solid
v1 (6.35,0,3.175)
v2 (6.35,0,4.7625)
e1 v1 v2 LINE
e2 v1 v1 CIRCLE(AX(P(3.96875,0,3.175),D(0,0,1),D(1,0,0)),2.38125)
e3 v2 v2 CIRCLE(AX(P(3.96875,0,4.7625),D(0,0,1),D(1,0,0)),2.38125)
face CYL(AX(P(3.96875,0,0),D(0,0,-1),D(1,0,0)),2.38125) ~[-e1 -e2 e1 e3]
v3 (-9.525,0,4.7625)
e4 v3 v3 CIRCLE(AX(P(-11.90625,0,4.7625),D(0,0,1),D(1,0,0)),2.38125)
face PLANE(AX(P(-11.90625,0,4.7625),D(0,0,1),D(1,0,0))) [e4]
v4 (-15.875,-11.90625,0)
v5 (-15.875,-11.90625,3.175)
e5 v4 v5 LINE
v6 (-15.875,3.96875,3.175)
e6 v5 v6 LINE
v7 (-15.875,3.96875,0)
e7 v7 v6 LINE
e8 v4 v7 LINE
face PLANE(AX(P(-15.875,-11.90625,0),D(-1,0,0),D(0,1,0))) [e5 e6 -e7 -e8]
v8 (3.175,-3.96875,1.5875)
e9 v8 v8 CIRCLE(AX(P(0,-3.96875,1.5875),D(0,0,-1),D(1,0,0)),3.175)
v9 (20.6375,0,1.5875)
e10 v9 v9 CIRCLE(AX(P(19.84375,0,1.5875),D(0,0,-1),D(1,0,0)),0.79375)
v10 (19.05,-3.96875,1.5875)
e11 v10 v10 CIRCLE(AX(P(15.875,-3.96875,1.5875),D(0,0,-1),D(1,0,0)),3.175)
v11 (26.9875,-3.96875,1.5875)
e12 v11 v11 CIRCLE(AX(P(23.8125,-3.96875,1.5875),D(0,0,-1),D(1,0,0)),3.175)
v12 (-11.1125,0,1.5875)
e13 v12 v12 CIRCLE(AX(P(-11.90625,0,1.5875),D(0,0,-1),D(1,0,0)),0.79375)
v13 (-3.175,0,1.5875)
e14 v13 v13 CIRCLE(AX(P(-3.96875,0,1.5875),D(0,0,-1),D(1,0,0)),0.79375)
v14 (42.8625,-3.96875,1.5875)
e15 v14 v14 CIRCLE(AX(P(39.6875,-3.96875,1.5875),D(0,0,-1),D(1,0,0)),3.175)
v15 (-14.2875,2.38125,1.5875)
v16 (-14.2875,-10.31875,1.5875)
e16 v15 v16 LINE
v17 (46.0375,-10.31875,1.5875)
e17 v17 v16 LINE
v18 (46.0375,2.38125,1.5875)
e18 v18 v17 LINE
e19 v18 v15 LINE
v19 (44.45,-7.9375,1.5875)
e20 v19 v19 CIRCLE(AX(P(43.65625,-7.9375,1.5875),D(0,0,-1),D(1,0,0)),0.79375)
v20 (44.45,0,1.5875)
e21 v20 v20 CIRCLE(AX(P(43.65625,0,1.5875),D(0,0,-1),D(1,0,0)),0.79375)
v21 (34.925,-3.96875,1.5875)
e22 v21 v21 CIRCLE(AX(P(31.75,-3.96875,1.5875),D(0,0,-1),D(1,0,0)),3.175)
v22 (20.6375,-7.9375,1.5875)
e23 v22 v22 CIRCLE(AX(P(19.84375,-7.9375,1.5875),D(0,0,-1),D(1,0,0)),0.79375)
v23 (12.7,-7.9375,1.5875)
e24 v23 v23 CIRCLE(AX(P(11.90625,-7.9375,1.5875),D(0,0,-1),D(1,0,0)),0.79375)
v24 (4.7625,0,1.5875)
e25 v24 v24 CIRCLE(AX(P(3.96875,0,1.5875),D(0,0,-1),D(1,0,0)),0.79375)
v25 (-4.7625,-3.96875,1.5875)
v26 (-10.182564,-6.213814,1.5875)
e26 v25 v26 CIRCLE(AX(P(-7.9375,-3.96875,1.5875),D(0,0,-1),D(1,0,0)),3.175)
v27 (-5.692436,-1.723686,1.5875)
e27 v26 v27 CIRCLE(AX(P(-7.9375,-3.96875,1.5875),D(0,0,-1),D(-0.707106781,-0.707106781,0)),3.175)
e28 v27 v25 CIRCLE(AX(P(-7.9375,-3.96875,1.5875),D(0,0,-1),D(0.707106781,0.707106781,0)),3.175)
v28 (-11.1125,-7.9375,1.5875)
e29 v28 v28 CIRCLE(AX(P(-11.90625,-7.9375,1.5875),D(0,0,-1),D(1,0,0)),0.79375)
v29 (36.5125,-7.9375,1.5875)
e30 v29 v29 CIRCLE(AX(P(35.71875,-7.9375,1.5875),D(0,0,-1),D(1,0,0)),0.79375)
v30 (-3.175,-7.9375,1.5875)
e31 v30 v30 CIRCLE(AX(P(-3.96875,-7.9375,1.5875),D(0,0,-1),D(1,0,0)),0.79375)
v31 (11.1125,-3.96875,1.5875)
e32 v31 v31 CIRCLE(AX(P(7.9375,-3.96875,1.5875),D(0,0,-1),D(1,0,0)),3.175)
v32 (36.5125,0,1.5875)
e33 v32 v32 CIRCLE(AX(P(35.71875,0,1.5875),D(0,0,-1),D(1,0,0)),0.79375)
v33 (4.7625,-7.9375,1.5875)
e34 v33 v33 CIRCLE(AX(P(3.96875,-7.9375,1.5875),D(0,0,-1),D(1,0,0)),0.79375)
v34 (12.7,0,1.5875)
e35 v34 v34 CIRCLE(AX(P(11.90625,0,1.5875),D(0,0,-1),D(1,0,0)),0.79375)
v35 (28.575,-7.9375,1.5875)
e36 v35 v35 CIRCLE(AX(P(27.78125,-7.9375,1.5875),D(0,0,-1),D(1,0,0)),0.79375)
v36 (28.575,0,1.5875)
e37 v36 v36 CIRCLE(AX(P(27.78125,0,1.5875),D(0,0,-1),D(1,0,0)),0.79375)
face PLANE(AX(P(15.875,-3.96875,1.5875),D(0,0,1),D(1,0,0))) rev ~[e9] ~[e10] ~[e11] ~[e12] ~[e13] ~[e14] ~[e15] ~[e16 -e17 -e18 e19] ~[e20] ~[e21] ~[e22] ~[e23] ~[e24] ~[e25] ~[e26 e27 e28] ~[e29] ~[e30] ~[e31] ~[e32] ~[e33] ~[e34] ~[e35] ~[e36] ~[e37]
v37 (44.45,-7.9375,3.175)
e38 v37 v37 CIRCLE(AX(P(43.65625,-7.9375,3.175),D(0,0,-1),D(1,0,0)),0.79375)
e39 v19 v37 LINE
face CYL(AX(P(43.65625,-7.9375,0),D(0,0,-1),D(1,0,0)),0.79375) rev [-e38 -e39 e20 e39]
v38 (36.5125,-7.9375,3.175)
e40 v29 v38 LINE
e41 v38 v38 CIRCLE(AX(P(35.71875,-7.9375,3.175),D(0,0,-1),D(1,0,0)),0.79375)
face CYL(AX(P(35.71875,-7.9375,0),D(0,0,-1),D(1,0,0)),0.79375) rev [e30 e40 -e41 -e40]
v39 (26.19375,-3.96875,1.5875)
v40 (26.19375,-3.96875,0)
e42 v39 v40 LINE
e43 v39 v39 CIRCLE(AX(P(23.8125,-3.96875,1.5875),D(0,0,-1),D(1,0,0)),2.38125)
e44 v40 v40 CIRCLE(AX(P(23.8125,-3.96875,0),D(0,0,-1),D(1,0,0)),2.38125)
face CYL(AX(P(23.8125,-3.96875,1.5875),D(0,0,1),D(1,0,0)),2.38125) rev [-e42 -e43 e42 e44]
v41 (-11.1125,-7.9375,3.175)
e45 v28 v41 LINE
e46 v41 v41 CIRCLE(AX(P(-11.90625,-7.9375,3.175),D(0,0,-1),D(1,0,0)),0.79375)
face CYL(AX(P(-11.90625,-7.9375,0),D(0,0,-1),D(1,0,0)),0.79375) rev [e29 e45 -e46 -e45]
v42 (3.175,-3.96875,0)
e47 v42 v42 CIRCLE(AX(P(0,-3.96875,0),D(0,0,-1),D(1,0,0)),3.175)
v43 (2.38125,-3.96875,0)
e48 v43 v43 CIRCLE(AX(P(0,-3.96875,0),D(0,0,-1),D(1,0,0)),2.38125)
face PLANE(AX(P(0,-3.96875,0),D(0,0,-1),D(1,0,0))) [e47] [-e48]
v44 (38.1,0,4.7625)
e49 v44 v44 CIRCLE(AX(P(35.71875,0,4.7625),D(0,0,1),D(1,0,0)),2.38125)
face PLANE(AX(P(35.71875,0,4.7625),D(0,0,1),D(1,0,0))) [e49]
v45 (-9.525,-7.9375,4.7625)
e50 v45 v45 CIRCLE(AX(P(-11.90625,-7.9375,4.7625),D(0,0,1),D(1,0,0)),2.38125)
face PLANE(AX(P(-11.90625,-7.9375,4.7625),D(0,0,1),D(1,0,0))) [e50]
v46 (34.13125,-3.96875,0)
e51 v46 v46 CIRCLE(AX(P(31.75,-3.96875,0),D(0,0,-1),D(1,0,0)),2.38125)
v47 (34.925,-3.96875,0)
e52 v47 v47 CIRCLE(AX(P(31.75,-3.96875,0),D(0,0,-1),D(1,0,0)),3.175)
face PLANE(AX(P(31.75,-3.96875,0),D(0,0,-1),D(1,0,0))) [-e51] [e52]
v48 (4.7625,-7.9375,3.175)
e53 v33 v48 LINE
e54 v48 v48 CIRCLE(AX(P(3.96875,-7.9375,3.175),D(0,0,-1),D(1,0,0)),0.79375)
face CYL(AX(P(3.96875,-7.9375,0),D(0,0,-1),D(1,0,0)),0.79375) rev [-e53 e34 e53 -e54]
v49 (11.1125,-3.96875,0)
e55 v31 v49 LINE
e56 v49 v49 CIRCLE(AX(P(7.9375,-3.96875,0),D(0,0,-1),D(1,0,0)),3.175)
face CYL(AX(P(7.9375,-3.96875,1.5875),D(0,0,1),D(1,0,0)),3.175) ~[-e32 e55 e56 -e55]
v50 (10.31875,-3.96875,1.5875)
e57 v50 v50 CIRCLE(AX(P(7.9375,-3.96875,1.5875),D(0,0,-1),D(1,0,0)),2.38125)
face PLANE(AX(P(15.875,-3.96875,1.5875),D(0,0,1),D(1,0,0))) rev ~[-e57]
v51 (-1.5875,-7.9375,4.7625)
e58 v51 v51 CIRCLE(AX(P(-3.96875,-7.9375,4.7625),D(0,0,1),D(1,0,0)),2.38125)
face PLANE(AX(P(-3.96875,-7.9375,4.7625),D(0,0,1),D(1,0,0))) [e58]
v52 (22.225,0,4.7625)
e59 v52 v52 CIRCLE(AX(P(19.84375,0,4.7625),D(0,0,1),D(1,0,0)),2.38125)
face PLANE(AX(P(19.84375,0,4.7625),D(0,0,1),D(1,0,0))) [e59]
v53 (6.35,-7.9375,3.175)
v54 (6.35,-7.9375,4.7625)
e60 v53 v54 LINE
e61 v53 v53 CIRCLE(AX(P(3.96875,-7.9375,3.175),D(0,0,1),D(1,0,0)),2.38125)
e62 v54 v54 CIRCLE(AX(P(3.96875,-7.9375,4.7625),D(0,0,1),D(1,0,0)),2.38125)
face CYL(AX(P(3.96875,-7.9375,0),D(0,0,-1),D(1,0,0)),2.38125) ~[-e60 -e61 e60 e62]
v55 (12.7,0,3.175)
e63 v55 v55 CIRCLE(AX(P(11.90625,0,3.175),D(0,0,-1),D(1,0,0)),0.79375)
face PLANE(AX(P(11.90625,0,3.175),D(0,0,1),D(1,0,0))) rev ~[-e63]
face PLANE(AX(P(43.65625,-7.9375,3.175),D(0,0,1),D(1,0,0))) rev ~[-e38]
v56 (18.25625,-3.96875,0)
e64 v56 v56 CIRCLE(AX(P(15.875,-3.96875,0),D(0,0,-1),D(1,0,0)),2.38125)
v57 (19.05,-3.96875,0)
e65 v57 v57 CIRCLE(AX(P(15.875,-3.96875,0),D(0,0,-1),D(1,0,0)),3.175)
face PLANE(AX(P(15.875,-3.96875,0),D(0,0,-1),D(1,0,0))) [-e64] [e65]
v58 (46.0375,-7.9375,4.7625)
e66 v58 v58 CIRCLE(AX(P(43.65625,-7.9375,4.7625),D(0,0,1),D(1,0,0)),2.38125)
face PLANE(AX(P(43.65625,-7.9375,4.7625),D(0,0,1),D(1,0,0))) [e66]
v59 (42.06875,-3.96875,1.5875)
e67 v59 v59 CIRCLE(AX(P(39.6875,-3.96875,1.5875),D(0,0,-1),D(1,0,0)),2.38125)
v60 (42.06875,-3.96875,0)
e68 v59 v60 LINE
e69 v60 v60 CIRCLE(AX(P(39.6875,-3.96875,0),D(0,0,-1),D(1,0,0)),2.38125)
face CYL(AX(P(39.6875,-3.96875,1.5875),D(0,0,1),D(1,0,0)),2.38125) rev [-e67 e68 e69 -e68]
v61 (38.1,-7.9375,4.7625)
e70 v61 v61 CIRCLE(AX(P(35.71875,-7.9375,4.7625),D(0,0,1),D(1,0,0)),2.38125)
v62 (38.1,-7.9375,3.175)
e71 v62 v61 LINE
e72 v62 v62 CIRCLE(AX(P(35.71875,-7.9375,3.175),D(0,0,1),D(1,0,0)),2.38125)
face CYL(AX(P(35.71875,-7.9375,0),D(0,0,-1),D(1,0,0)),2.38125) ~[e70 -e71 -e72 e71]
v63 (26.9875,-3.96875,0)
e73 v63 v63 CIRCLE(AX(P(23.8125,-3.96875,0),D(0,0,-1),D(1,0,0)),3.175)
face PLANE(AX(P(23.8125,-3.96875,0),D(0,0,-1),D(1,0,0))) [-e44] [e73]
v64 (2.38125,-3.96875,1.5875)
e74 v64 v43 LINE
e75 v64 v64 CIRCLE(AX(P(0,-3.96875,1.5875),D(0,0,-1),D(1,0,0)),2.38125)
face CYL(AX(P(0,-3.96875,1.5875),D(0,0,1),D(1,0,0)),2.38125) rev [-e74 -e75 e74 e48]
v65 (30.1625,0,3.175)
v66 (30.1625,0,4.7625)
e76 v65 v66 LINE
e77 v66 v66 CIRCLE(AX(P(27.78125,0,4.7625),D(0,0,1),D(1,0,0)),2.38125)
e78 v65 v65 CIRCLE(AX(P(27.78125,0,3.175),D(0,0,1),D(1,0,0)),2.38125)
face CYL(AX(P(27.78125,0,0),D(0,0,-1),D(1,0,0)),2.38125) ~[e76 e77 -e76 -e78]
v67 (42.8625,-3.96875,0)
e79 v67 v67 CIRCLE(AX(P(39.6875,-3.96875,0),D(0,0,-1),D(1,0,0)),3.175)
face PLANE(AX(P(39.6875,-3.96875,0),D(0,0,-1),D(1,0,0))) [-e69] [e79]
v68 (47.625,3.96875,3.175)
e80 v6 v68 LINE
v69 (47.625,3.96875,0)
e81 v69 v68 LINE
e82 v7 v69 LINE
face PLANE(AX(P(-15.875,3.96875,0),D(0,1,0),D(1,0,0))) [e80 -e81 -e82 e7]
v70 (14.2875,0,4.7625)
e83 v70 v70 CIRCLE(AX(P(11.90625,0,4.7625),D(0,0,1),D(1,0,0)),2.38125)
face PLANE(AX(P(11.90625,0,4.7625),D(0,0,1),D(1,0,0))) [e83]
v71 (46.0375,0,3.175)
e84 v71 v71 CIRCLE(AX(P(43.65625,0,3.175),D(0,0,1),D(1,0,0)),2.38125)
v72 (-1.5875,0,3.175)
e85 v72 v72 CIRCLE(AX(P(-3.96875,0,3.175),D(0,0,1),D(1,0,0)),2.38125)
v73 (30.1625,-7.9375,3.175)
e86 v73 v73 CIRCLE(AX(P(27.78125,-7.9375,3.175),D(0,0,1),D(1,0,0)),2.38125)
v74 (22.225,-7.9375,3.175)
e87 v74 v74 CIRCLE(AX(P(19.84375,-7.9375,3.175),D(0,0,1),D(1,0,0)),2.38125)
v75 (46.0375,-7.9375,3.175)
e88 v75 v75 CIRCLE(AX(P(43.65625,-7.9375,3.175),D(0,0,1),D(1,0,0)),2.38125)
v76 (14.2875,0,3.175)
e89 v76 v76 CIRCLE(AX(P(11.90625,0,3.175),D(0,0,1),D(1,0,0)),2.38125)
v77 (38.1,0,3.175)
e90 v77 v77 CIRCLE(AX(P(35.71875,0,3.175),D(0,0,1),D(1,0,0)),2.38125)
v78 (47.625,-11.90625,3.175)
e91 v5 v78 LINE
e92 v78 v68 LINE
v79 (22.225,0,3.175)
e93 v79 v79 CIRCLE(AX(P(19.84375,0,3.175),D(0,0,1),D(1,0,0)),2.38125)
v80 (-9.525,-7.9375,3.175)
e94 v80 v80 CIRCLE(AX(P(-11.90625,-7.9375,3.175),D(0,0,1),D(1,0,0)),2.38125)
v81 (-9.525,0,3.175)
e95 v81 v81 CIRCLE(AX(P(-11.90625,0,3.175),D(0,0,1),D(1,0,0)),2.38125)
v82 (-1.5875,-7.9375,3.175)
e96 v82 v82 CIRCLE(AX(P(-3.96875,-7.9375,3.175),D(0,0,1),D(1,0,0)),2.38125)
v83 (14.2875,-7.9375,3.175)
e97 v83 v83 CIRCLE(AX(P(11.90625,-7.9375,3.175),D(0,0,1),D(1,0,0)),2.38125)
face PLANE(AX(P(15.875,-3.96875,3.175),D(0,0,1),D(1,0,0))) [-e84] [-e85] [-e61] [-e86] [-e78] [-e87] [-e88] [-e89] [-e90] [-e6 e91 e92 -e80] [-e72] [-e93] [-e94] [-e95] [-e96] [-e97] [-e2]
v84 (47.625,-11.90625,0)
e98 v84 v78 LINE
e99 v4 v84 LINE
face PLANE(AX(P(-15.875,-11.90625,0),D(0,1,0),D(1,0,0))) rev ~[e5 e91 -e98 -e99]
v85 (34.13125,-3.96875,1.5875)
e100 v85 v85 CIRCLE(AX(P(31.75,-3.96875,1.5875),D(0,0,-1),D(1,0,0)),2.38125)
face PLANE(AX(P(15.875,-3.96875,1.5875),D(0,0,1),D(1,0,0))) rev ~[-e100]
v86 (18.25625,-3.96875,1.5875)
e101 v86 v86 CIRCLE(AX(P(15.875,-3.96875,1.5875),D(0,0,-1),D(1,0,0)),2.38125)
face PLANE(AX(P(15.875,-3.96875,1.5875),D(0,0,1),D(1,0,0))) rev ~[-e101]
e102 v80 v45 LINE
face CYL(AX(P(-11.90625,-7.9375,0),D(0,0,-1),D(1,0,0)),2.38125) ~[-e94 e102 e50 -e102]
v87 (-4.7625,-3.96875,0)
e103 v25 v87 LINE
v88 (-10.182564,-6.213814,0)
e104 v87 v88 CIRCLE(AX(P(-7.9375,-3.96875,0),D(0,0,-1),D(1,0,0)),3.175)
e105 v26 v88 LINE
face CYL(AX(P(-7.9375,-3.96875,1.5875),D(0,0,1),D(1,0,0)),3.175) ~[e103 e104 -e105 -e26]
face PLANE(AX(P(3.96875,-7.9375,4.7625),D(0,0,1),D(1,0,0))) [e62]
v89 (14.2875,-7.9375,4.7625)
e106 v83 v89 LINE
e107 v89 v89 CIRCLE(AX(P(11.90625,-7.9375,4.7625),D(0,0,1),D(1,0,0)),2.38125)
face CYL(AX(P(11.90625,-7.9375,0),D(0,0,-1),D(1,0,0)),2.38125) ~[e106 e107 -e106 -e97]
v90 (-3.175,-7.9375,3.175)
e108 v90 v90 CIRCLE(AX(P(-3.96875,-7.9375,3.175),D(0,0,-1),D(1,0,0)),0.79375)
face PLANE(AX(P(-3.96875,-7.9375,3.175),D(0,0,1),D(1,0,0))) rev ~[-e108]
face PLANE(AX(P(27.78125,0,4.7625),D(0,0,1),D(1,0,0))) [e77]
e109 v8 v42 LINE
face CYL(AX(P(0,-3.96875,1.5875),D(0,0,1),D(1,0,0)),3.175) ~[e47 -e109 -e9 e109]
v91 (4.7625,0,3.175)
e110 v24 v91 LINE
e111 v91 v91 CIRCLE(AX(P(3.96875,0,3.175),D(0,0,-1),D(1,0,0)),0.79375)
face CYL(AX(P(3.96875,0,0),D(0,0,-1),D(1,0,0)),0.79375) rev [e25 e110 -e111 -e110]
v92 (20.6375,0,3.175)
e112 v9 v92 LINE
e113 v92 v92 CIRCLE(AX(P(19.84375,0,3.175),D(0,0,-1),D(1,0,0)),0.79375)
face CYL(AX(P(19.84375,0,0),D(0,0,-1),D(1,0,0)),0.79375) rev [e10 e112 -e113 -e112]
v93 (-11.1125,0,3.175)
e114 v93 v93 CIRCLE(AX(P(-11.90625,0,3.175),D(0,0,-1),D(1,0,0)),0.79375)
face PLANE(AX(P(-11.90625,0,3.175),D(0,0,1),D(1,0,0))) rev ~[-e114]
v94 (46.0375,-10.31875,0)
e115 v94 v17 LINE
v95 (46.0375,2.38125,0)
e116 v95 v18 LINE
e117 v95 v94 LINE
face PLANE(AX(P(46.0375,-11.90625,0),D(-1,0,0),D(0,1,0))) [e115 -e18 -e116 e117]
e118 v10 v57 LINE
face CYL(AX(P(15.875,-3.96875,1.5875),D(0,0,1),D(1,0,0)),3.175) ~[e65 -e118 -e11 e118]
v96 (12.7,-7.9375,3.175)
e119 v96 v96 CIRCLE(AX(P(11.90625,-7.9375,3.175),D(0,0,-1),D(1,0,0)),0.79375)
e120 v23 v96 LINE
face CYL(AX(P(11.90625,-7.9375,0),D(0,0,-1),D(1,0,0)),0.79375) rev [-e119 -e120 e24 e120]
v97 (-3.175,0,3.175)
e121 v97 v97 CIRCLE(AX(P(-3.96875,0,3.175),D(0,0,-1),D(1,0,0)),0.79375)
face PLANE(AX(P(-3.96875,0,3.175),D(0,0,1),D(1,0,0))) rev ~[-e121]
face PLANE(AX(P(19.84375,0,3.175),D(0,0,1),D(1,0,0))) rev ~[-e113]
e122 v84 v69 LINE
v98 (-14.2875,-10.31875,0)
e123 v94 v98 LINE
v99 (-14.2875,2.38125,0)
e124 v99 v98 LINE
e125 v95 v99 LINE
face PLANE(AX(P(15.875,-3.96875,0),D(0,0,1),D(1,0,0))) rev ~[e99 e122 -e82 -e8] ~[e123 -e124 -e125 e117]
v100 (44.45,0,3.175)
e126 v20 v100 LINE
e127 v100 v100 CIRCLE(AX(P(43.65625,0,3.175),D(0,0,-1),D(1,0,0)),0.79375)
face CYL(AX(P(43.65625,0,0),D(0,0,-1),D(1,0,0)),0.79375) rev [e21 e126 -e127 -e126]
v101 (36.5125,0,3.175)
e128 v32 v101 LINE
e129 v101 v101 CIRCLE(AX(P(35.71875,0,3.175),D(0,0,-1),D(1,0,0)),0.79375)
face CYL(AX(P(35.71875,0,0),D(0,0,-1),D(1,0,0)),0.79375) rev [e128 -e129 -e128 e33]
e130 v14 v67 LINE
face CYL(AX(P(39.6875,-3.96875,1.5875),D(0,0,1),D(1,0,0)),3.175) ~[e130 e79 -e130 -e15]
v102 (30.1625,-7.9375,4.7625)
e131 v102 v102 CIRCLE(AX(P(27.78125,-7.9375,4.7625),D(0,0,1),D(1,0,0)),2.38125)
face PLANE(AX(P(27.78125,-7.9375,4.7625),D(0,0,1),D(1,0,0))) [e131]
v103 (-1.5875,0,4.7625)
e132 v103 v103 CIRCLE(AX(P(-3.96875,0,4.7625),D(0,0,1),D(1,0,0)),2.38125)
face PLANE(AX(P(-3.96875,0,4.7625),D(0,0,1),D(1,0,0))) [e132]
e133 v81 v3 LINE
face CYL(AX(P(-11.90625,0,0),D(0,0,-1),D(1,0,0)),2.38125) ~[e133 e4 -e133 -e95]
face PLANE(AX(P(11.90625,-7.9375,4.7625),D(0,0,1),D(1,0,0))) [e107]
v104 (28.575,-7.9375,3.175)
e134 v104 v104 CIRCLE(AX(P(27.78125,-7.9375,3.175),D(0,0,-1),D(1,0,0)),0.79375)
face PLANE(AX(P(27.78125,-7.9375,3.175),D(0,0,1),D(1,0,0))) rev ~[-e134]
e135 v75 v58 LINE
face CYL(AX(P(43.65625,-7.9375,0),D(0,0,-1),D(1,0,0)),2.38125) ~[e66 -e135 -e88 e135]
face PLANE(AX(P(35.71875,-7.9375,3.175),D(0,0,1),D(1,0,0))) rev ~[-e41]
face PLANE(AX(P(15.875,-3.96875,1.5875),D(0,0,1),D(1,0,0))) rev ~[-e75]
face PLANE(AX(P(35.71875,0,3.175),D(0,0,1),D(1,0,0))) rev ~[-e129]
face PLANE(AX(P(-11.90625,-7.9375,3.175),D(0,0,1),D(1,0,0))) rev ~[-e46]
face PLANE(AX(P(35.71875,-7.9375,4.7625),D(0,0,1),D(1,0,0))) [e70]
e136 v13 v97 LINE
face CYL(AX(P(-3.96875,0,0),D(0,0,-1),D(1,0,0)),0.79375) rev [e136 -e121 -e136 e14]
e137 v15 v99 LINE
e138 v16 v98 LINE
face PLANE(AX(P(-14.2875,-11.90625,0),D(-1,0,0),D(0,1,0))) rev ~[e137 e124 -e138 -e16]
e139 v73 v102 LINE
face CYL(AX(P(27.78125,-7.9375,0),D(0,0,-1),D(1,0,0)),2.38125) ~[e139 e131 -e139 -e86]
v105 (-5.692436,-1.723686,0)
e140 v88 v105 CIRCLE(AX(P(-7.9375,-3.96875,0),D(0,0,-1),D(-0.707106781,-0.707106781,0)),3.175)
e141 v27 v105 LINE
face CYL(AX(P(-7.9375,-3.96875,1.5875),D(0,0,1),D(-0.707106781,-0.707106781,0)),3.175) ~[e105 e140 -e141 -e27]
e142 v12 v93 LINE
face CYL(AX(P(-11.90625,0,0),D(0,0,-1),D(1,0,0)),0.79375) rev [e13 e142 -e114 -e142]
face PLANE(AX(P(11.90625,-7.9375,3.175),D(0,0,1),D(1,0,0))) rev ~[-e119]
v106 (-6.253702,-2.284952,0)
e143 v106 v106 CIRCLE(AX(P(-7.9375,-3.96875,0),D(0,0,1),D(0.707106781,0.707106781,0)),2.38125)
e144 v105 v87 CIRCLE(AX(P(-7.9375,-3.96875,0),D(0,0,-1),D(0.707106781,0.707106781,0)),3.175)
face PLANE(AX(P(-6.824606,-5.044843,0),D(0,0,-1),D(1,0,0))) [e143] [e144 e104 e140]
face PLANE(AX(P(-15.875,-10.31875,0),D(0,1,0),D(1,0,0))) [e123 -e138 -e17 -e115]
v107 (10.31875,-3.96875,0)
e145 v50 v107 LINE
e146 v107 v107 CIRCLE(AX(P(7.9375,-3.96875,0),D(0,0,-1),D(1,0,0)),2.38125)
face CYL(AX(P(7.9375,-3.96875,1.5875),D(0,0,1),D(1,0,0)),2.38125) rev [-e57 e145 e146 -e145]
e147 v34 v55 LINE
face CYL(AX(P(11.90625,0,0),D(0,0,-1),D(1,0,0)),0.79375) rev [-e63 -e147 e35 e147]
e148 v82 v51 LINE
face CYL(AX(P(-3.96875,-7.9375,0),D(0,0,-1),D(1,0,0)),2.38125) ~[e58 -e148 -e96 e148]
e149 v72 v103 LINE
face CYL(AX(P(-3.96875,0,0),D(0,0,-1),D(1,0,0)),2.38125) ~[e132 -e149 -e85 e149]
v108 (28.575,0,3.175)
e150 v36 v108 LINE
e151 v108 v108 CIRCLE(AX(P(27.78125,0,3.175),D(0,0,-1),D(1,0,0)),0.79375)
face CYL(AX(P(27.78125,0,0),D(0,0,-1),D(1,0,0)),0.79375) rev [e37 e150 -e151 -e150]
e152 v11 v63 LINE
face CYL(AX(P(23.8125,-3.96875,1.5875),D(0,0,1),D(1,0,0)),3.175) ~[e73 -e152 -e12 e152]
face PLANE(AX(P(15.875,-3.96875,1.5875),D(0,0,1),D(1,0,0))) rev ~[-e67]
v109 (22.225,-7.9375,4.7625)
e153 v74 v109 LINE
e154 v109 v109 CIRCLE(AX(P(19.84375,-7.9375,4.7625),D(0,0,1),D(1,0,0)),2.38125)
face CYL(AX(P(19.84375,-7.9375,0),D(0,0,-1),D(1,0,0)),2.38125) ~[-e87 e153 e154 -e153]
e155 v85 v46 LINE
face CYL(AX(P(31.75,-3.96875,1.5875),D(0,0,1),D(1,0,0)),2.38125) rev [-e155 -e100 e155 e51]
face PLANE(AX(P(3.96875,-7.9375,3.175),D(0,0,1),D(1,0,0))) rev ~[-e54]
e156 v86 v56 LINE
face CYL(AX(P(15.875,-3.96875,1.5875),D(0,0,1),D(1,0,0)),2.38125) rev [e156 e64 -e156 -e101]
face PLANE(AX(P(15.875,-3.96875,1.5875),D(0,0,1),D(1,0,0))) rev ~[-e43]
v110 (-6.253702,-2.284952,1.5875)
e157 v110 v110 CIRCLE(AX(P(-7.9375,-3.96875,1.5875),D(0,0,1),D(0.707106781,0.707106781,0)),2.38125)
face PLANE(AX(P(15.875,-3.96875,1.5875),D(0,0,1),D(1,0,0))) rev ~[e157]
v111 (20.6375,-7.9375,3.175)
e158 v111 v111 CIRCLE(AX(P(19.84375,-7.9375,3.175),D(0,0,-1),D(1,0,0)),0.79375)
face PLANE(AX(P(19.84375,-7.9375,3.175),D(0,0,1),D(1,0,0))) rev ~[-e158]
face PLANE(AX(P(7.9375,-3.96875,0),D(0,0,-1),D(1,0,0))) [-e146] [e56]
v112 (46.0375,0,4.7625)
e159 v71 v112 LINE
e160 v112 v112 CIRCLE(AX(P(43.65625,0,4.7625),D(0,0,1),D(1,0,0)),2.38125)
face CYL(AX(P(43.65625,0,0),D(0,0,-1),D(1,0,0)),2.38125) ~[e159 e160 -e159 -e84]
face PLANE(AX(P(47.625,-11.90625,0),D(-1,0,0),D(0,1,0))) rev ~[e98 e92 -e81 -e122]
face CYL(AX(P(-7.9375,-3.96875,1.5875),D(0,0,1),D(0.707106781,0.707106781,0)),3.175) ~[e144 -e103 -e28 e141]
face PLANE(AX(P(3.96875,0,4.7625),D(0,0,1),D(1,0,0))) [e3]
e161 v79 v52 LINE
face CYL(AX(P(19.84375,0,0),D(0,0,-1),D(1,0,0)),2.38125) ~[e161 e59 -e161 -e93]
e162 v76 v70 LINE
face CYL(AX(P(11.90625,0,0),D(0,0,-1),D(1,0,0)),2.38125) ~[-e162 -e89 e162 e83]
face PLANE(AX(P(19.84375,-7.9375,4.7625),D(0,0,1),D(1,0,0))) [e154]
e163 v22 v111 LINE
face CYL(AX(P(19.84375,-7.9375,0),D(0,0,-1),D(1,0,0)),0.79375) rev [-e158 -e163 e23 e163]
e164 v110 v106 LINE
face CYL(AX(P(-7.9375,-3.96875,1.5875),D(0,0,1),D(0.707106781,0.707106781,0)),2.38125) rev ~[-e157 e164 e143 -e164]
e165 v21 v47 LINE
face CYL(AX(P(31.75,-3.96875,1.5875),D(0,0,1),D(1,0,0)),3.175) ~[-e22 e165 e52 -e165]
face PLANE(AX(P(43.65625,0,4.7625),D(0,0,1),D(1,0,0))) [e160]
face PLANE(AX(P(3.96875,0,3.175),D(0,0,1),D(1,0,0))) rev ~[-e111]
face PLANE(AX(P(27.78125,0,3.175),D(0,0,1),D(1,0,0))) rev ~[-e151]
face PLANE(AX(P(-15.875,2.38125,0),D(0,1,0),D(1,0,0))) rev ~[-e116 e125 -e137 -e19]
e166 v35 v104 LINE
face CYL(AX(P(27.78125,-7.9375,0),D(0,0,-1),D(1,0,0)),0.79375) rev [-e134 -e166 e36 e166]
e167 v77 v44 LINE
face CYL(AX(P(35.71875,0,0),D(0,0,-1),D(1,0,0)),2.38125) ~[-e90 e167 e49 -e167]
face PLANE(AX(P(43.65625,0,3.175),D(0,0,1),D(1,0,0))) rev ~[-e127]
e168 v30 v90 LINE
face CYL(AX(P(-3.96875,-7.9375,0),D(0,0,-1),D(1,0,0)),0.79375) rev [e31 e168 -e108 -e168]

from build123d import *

# Parameters (mm, degrees)
F0_W     = 63.5
F0_H     = 15.875
F0_R     = 2.38125
F1_DEPTH = 3.175
F2_DEPTH = 4.7625
F3_T     = -1.5875
F4_R     = 3.175
F4_R_2   = 2.38125
F5_DEPTH = 1.5875


with BuildPart() as f1:
    # F0 (on Top) → F1 (new body)
    with BuildSketch(Plane.XY):
        with Locations((15.875, -3.96875)):
            Rectangle(F0_W, F0_H)
        with Locations((-11.90625, -7.9375)):
            Circle(F0_R, mode=Mode.SUBTRACT)
        with Locations((-3.96875, -7.9375)):
            Circle(F0_R, mode=Mode.SUBTRACT)
        with Locations((3.96875, -7.9375)):
            Circle(F0_R, mode=Mode.SUBTRACT)
        with Locations((11.90625, -7.9375)):
            Circle(F0_R, mode=Mode.SUBTRACT)
        with Locations((19.84375, -7.9375)):
            Circle(F0_R, mode=Mode.SUBTRACT)
        with Locations((27.78125, -7.9375)):
            Circle(F0_R, mode=Mode.SUBTRACT)
        with Locations((35.71875, -7.9375)):
            Circle(F0_R, mode=Mode.SUBTRACT)
        with Locations((43.65625, -7.9375)):
            Circle(F0_R, mode=Mode.SUBTRACT)
        with Locations((-11.90625, 0)):
            Circle(F0_R, mode=Mode.SUBTRACT)
        with Locations((-3.96875, 0)):
            Circle(F0_R, mode=Mode.SUBTRACT)
        with Locations((3.96875, 0)):
            Circle(F0_R, mode=Mode.SUBTRACT)
        with Locations((11.90625, 0)):
            Circle(F0_R, mode=Mode.SUBTRACT)
        with Locations((19.84375, 0)):
            Circle(F0_R, mode=Mode.SUBTRACT)
        with Locations((27.78125, 0)):
            Circle(F0_R, mode=Mode.SUBTRACT)
        with Locations((35.71875, 0)):
            Circle(F0_R, mode=Mode.SUBTRACT)
        with Locations((43.65625, 0)):
            Circle(F0_R, mode=Mode.SUBTRACT)
    extrude(amount=F1_DEPTH)

    # F0 (on Top) → F2 (join)
    with BuildSketch(Plane.XY):
        with Locations((-11.90625, 0)):
            Circle(F0_R)
        with Locations((-11.90625, -7.9375)):
            Circle(F0_R)
        with Locations((-3.96875, -7.9375)):
            Circle(F0_R)
        with Locations((-3.96875, 0)):
            Circle(F0_R)
        with Locations((3.96875, 0)):
            Circle(F0_R)
        with Locations((3.96875, -7.9375)):
            Circle(F0_R)
        with Locations((11.90625, -7.9375)):
            Circle(F0_R)
        with Locations((11.90625, 0)):
            Circle(F0_R)
        with Locations((19.84375, 0)):
            Circle(F0_R)
        with Locations((27.78125, 0)):
            Circle(F0_R)
        with Locations((27.78125, -7.9375)):
            Circle(F0_R)
        with Locations((19.84375, -7.9375)):
            Circle(F0_R)
        with Locations((35.71875, 0)):
            Circle(F0_R)
        with Locations((43.65625, 0)):
            Circle(F0_R)
        with Locations((43.65625, -7.9375)):
            Circle(F0_R)
        with Locations((35.71875, -7.9375)):
            Circle(F0_R)
    extrude(amount=F2_DEPTH)

    # F3
    f3_openings = [f1.faces().sort_by_distance(p)[0] for p in [
        (15.875, -3.96875, 0),
    ]]
    offset(amount=F3_T, openings=f3_openings, kind=Kind.INTERSECTION)

    # F4 (on face) → F5 (join)
    with BuildSketch(Plane(origin=(0, 0, 1.5875), x_dir=(1, 0, 0), z_dir=(0, 0, -1))):
        with BuildLine():
            ThreePointArc((-4.7625, 3.96875), (-6.7224801022, 6.9020675157), (-10.1825640303, 6.2138140303))
            Line((-10.1825640303, 6.2138140303), (-9.6212980227, 5.6525480227))
            ThreePointArc((-9.6212980227, 5.6525480227), (-7.0262350767, 6.1687381368), (-5.55625, 3.96875))
            ThreePointArc((-5.55625, 3.96875), (-5.7375118632, 3.0574850767), (-6.2537019773, 2.2849519773))
            Line((-6.2537019773, 2.2849519773), (-5.6924359697, 1.7236859697))
            ThreePointArc((-5.6924359697, 1.7236859697), (-5.0041824843, 2.7537301022), (-4.7625, 3.96875))
        make_face()
        with BuildLine():
            Line((-9.6212980227, 5.6525480227), (-10.1825640303, 6.2138140303))
            ThreePointArc((-10.1825640303, 6.2138140303), (-10.1825640303, 1.7236859697), (-5.6924359697, 1.7236859697))
            Line((-5.6924359697, 1.7236859697), (-6.2537019773, 2.2849519773))
            ThreePointArc((-6.2537019773, 2.2849519773), (-9.6212980227, 2.2849519773), (-9.6212980227, 5.6525480227))
        make_face()
        with Locations((0, 3.96875)):
            Circle(F4_R)
        with Locations((0, 3.96875)):
            Circle(F4_R_2, mode=Mode.SUBTRACT)
        with Locations((7.9375, 3.96875)):
            Circle(F4_R)
        with Locations((7.9375, 3.96875)):
            Circle(F4_R_2, mode=Mode.SUBTRACT)
        with Locations((15.875, 3.96875)):
            Circle(F4_R)
        with Locations((15.875, 3.96875)):
            Circle(F4_R_2, mode=Mode.SUBTRACT)
        with Locations((23.8125, 3.96875)):
            Circle(F4_R)
        with Locations((23.8125, 3.96875)):
            Circle(F4_R_2, mode=Mode.SUBTRACT)
        with Locations((31.75, 3.96875)):
            Circle(F4_R)
        with Locations((31.75, 3.96875)):
            Circle(F4_R_2, mode=Mode.SUBTRACT)
        with Locations((39.6875, 3.96875)):
            Circle(F4_R)
        with Locations((39.6875, 3.96875)):
            Circle(F4_R_2, mode=Mode.SUBTRACT)
    extrude(amount=F5_DEPTH)


solid = f1.part
